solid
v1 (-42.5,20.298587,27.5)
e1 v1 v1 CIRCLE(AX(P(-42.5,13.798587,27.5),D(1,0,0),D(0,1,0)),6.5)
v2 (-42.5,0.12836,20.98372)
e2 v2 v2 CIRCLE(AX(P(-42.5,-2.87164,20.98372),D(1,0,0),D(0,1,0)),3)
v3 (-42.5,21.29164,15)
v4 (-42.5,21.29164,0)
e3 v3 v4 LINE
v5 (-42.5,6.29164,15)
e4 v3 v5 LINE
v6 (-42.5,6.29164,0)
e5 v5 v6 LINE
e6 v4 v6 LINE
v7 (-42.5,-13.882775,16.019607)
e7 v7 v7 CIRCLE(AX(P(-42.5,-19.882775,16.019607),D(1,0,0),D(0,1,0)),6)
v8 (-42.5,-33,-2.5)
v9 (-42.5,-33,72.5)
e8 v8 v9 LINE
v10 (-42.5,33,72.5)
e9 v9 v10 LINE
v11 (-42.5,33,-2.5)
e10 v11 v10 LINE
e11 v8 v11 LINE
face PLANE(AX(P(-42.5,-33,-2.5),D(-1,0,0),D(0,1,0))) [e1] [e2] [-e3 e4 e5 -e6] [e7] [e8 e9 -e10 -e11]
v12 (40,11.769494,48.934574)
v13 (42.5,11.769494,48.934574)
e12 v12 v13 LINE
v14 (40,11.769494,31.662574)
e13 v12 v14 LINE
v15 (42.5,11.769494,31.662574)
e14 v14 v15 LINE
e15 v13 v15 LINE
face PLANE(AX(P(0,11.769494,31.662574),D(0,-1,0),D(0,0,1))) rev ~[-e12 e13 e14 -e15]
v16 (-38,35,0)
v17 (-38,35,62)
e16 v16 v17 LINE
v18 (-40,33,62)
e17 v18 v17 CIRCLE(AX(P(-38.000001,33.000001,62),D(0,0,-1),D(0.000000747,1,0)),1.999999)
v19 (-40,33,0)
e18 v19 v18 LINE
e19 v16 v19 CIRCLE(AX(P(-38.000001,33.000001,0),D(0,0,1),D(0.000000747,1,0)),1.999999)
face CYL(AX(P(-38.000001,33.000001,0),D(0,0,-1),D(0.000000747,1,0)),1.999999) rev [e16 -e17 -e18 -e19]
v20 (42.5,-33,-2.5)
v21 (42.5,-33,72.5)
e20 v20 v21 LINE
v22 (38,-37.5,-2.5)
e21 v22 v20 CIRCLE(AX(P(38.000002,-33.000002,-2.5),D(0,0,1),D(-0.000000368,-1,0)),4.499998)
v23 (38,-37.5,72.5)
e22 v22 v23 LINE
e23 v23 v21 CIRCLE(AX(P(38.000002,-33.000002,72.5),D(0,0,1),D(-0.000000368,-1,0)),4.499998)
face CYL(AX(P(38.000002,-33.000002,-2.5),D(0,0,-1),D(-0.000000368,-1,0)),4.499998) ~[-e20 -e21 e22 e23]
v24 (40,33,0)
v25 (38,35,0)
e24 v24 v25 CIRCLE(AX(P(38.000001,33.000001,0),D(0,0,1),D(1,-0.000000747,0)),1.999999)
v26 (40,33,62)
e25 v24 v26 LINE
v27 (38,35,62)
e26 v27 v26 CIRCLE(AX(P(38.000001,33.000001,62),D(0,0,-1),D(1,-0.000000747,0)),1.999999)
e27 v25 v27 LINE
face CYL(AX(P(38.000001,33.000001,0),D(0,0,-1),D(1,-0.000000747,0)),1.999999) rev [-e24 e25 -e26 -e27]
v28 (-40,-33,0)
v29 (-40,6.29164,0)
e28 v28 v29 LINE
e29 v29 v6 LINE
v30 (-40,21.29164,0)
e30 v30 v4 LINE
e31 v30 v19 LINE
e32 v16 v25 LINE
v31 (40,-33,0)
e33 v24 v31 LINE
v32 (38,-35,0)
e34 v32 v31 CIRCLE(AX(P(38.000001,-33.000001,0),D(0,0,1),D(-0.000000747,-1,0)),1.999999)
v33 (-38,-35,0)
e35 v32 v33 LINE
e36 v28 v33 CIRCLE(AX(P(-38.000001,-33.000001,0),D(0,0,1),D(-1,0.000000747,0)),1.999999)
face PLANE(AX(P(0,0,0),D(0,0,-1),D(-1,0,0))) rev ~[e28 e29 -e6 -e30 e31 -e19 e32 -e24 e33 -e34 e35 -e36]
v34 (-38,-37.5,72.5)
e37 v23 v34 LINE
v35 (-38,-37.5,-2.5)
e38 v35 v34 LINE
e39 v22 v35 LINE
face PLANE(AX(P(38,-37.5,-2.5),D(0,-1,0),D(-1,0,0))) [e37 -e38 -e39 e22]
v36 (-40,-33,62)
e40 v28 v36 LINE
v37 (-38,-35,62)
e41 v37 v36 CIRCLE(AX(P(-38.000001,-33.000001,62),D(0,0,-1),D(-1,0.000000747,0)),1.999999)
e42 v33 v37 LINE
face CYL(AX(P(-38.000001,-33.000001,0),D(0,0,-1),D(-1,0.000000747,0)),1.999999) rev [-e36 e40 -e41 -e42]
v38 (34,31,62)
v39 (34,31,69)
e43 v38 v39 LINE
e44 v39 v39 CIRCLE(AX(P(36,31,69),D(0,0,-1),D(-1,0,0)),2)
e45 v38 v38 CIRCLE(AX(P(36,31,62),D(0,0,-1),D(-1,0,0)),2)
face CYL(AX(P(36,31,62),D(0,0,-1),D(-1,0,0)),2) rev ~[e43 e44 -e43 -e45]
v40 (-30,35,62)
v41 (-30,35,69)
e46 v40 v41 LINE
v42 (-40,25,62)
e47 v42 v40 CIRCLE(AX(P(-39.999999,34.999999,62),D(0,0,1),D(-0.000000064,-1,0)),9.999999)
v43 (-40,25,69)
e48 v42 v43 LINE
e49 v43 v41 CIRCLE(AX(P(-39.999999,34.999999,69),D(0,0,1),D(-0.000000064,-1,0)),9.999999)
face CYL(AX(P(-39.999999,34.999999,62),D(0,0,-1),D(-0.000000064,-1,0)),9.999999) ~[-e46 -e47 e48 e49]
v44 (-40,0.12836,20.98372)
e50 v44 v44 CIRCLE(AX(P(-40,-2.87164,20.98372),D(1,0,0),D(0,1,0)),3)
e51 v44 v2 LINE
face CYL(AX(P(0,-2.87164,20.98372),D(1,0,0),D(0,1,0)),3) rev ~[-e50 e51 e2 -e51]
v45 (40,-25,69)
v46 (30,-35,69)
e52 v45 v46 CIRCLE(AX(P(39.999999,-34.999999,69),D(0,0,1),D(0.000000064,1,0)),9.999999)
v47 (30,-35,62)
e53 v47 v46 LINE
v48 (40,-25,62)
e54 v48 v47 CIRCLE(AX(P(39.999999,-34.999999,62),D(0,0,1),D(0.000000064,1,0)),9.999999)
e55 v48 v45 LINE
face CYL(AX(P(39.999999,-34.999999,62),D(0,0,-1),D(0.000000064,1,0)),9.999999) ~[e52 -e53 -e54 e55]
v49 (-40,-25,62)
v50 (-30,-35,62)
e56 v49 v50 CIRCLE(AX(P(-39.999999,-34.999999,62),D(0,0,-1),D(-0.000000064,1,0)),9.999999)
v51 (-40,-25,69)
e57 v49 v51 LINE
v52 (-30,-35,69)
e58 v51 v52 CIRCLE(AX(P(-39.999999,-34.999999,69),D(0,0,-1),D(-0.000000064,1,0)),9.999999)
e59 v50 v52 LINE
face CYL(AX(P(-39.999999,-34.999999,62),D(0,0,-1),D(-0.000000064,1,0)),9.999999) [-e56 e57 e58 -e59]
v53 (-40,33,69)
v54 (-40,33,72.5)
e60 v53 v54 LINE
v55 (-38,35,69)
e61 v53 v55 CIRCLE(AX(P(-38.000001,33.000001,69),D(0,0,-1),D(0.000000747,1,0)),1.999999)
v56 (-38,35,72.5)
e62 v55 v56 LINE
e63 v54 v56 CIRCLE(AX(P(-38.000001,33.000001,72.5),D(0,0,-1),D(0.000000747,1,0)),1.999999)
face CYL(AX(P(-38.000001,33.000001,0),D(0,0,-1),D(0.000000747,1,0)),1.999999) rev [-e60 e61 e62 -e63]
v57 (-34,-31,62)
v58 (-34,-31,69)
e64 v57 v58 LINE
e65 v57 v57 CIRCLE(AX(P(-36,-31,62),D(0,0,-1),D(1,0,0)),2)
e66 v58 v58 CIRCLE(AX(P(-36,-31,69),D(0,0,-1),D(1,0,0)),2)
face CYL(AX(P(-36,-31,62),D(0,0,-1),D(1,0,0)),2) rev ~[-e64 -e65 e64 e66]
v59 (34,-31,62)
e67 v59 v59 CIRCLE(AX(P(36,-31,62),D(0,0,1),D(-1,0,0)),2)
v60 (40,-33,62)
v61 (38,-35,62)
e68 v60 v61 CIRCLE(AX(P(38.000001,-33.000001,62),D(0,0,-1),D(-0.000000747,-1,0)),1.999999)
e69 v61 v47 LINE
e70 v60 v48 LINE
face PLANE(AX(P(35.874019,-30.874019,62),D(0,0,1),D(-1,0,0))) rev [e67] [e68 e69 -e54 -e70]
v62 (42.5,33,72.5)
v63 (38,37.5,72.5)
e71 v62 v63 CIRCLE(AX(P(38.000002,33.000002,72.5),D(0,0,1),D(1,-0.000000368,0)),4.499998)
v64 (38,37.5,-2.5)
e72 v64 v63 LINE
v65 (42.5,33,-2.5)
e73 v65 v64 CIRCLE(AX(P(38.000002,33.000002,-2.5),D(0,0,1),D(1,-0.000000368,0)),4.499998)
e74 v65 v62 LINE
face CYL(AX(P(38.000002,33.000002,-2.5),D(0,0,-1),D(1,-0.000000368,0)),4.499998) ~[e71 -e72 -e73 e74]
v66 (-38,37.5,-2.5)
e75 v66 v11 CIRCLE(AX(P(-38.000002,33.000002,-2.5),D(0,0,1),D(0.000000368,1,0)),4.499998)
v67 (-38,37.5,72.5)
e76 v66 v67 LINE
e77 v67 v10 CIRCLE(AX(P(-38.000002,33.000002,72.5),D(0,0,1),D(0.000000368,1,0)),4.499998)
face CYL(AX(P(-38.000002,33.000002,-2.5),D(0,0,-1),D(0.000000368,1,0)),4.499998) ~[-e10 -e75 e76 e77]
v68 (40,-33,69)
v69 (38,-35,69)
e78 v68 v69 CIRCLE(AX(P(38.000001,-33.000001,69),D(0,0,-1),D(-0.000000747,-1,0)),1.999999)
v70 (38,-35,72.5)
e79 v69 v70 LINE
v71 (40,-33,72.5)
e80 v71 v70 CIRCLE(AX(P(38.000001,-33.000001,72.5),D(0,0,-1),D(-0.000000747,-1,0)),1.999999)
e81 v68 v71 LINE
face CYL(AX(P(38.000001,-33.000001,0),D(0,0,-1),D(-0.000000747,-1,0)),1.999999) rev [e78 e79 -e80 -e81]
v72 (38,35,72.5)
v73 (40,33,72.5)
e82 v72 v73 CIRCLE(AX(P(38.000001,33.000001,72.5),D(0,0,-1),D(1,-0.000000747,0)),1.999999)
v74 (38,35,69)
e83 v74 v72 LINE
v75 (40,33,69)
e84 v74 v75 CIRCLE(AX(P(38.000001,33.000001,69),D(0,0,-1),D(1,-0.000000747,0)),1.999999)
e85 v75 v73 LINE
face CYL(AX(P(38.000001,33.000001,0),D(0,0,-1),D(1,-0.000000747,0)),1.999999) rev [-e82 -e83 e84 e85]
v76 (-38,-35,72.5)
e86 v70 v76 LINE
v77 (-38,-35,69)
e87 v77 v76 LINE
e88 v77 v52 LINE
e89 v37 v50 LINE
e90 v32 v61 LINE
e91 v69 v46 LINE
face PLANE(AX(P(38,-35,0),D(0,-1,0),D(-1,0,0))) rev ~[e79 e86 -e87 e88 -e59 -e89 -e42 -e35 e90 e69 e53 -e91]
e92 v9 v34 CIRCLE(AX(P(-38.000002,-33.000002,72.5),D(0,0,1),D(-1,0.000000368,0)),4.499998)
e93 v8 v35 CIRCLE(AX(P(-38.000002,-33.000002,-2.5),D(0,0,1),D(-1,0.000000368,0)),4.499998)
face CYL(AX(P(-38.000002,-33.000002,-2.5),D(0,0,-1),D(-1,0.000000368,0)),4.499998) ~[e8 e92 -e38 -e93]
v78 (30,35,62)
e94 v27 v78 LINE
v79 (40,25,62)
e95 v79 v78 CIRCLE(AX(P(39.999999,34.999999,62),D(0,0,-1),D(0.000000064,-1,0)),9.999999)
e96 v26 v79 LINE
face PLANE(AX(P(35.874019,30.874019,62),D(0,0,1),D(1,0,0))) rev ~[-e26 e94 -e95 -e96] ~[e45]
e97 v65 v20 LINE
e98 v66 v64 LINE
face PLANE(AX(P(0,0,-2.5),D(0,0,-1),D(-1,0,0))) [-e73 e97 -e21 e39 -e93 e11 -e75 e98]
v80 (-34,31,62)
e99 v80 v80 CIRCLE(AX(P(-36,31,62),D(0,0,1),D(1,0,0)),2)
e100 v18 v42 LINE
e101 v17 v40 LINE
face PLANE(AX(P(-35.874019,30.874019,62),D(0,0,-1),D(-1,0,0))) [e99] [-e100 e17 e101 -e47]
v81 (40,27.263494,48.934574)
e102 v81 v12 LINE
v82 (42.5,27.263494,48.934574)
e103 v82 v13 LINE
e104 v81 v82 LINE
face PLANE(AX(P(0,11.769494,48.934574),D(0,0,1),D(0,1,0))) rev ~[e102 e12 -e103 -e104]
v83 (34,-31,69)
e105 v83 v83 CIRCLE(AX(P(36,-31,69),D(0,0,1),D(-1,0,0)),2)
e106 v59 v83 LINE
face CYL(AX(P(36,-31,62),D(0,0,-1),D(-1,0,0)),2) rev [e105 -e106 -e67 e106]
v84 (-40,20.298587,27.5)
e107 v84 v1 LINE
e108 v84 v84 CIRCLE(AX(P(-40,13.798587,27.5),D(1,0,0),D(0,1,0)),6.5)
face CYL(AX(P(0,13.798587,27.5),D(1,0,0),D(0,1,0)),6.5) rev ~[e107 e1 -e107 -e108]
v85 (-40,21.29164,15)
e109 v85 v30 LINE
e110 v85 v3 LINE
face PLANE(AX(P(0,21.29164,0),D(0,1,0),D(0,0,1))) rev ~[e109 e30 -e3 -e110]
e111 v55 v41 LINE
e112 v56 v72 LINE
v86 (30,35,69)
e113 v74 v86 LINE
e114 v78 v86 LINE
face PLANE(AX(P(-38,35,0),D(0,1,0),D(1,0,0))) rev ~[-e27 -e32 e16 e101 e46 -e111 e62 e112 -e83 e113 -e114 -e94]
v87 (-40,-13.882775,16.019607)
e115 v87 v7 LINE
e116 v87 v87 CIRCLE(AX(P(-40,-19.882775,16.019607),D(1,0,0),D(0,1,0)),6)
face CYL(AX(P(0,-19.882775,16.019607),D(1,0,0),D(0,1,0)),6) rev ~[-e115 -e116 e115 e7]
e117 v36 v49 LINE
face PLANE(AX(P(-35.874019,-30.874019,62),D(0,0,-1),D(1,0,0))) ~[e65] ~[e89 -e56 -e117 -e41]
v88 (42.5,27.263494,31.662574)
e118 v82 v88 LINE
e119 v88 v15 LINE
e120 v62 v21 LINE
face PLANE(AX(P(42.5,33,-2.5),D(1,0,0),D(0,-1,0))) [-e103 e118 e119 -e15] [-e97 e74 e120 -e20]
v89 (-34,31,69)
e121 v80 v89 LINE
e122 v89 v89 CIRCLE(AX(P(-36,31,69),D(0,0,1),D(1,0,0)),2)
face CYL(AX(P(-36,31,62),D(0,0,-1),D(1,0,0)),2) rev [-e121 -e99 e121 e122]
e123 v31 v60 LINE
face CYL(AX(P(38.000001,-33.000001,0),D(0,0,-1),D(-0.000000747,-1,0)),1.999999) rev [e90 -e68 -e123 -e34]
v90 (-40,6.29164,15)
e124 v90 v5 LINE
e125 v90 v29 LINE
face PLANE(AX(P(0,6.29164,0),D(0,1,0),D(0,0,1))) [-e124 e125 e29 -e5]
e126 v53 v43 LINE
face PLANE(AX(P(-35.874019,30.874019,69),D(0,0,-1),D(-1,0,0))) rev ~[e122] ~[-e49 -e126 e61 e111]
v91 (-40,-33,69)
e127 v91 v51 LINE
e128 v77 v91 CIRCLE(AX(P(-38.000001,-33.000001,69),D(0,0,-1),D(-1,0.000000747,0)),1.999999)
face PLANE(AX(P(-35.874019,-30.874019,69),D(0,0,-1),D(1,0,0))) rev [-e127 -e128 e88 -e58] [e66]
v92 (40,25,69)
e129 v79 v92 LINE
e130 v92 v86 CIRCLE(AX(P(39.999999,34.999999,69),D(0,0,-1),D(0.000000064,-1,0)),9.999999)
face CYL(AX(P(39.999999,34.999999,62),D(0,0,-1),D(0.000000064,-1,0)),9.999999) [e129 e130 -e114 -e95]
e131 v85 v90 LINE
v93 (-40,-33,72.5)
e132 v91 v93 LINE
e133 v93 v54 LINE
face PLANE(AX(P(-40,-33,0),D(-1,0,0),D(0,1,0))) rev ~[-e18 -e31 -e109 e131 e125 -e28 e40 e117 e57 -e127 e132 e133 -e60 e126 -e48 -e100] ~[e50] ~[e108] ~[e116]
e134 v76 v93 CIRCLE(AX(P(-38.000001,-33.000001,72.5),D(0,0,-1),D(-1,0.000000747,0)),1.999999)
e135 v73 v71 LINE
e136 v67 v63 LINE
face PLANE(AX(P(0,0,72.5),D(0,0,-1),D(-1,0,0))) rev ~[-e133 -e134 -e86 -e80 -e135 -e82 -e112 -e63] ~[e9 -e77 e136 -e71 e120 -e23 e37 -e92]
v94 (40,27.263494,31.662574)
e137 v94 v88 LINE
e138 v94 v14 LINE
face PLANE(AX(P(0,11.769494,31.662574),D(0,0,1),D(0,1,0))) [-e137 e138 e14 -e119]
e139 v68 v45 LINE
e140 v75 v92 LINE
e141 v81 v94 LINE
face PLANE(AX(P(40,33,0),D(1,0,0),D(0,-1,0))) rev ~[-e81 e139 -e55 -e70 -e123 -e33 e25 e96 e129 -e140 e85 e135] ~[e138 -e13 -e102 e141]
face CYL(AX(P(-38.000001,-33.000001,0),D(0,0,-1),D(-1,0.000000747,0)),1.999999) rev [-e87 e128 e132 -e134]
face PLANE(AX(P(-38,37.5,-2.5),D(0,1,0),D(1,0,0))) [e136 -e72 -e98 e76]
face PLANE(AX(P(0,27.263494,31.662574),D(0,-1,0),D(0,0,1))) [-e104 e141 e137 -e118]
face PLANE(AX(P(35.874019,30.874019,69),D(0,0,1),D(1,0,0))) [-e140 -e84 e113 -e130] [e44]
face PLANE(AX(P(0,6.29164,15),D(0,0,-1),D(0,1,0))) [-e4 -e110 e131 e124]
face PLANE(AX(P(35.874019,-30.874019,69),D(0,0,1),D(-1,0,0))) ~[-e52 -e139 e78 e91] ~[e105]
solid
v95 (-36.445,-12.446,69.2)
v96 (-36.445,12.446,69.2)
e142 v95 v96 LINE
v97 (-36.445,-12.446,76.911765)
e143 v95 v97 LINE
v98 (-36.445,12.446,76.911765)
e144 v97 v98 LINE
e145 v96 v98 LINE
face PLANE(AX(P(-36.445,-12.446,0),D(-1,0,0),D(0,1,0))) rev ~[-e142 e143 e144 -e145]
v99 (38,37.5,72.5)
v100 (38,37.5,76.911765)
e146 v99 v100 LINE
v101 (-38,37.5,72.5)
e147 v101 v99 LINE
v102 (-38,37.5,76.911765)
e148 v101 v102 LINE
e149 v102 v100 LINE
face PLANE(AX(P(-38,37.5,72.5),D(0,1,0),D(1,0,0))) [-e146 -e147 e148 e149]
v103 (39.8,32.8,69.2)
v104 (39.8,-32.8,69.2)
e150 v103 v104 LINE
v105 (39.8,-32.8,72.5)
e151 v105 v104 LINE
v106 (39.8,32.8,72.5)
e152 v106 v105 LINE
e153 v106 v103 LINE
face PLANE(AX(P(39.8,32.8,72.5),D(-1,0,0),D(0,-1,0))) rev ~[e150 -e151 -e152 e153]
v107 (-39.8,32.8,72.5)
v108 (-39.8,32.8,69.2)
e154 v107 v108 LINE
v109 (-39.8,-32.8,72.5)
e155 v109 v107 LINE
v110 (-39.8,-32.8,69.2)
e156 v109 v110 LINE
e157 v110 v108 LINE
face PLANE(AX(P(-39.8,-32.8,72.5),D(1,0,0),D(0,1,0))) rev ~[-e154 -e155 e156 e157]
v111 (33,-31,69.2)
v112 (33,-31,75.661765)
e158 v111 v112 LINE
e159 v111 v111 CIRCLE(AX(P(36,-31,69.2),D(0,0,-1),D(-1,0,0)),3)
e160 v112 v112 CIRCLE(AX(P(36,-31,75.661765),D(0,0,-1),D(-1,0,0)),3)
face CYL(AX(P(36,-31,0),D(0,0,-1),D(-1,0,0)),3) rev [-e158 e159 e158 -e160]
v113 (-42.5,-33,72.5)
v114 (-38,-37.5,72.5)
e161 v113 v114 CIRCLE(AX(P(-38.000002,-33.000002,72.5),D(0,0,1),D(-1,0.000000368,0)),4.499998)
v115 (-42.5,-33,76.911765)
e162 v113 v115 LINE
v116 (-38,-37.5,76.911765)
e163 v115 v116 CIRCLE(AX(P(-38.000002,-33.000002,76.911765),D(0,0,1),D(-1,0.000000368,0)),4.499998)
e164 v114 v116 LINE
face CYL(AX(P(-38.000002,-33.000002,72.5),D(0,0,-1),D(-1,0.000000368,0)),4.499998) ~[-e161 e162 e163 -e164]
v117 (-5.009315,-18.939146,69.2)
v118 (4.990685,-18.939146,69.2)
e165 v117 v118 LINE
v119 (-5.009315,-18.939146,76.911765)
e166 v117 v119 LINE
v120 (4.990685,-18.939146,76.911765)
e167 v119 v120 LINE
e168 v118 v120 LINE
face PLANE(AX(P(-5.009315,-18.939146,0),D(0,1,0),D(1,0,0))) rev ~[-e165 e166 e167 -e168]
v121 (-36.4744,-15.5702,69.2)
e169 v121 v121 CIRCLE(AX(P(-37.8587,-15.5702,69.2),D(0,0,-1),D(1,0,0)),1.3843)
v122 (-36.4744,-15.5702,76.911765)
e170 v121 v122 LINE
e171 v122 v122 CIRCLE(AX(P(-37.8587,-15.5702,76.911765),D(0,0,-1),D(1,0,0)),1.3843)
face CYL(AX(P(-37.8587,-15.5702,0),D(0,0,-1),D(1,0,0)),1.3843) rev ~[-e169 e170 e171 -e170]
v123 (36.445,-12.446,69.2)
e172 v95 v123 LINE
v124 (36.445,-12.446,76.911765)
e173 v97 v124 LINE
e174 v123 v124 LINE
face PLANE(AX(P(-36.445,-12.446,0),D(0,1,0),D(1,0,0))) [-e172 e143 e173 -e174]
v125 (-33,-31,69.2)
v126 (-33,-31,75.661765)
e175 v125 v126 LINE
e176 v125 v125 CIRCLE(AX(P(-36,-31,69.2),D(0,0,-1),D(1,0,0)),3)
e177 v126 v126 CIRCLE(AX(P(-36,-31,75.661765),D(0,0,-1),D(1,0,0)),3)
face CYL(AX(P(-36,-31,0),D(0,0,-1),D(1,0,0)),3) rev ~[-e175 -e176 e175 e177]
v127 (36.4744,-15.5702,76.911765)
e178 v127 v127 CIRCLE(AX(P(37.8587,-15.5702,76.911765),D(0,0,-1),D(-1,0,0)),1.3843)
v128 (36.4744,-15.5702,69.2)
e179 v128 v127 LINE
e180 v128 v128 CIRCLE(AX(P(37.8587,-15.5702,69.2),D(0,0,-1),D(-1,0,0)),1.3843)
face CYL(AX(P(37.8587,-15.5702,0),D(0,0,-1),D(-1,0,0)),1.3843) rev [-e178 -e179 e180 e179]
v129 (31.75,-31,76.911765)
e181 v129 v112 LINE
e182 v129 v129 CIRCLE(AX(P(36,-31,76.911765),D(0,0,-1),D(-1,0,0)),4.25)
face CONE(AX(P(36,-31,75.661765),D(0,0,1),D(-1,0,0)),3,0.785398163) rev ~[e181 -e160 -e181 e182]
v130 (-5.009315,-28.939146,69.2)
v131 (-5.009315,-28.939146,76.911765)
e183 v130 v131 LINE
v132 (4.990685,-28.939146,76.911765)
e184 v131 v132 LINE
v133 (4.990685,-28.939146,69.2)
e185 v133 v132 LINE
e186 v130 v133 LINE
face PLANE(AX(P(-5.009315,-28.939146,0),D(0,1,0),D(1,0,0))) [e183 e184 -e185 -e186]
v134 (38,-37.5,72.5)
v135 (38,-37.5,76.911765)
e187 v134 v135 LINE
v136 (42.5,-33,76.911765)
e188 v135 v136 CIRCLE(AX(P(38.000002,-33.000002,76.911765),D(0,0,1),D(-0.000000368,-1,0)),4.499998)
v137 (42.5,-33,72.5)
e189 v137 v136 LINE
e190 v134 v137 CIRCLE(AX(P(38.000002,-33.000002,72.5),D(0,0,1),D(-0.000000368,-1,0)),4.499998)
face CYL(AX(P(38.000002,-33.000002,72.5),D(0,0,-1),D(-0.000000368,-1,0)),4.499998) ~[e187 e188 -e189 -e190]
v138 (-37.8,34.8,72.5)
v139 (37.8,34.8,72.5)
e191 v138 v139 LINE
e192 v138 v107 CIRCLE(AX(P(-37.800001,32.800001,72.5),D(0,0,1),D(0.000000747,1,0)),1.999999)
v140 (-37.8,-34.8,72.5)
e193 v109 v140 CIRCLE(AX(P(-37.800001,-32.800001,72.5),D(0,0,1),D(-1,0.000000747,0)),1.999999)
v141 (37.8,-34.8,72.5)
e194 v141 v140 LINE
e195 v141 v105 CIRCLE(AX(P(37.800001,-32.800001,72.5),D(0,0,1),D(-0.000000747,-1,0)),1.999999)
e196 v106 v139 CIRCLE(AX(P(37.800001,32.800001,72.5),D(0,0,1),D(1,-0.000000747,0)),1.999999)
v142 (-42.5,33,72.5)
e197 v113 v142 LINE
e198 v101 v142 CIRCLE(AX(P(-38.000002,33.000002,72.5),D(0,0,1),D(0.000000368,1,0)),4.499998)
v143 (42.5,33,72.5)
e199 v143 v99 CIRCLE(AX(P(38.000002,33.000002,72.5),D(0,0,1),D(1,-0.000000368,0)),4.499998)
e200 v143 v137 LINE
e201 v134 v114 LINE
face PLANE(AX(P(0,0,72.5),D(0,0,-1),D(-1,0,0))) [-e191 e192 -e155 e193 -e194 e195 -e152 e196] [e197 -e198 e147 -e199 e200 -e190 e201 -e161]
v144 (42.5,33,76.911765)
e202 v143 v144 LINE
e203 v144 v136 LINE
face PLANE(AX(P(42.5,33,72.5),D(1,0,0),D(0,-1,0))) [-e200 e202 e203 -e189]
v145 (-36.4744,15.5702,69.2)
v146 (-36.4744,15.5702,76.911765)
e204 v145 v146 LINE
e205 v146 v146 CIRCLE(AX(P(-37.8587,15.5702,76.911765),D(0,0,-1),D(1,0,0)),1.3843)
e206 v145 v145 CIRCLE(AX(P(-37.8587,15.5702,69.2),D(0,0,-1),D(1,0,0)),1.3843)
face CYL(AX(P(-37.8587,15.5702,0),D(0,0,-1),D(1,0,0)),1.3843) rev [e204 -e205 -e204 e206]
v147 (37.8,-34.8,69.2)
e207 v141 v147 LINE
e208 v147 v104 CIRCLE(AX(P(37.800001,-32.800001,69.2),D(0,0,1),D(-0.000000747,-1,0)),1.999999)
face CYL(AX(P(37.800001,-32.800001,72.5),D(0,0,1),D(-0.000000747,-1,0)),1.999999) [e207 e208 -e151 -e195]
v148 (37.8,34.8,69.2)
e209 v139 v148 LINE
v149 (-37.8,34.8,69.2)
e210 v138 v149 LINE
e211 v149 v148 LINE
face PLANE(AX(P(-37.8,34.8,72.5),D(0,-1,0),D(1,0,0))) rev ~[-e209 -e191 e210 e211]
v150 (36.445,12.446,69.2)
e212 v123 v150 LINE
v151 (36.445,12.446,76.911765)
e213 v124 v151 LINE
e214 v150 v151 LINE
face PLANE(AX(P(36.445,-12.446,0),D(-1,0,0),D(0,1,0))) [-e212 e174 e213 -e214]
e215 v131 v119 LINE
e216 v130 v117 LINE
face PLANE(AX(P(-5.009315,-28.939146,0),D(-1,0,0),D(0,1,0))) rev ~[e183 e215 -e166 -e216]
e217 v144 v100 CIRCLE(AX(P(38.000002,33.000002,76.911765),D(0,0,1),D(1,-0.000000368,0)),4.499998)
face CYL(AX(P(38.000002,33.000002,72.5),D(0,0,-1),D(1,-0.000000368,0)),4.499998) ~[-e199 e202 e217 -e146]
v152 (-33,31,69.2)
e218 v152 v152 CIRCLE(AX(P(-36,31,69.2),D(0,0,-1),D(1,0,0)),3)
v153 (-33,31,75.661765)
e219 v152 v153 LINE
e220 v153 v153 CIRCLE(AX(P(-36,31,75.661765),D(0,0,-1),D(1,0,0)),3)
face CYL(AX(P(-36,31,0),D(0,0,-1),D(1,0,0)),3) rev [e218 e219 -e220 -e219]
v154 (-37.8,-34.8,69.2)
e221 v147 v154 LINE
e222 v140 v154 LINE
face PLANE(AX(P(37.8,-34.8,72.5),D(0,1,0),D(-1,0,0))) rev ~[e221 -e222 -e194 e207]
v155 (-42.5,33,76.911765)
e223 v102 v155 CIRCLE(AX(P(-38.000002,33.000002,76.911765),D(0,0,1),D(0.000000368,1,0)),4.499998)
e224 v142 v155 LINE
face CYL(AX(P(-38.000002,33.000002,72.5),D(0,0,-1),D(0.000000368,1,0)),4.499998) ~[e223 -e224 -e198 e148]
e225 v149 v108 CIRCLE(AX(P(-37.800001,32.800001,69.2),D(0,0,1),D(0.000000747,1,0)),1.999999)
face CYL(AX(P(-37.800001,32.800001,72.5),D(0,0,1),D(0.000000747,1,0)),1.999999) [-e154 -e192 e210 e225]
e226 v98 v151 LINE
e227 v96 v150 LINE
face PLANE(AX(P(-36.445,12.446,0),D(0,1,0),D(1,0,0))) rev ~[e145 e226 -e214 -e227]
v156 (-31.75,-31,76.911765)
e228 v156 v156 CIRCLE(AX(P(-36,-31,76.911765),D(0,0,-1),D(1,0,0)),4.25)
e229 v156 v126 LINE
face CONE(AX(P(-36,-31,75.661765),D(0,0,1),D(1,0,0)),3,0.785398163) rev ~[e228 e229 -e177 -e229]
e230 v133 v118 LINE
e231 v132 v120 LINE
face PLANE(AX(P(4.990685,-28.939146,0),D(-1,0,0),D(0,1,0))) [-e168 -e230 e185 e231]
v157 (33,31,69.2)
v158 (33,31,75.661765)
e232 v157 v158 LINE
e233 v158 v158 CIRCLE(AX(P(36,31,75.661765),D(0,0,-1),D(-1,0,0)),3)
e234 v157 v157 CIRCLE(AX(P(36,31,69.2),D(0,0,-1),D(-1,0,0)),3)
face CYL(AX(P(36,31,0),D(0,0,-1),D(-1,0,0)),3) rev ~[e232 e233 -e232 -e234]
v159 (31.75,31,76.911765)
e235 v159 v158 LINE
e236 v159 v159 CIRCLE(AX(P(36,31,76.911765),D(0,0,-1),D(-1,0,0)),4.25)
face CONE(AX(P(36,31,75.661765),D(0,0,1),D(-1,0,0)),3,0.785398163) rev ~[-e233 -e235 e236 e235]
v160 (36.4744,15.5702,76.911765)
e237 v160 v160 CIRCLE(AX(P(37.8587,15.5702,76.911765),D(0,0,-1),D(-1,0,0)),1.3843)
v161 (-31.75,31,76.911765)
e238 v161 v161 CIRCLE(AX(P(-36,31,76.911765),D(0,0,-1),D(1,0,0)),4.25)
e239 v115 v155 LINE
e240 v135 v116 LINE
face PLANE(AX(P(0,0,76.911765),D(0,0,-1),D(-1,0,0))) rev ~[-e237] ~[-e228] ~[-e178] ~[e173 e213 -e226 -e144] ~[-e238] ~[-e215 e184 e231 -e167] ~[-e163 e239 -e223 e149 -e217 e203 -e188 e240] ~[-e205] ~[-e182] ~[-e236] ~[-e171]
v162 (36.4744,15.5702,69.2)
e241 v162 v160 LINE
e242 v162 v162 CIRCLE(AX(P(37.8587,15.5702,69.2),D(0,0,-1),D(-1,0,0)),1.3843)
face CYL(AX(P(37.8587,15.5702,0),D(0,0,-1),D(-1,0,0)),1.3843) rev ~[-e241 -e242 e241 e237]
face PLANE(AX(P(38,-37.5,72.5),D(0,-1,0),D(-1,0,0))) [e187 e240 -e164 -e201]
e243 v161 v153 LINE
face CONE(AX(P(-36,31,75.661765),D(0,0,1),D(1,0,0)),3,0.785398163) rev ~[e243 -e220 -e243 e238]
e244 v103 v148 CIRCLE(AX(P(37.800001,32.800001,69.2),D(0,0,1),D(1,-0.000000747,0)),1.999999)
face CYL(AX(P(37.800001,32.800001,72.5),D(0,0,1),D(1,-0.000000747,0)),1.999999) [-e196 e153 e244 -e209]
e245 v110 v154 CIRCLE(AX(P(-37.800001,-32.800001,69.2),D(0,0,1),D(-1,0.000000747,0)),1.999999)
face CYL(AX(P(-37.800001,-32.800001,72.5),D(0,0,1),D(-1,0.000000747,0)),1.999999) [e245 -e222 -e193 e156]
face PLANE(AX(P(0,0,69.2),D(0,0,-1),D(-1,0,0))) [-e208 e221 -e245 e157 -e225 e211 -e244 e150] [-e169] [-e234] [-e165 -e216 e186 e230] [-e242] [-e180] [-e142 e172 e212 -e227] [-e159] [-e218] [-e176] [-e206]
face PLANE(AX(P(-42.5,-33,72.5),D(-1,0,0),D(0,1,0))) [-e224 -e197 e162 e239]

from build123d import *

# Parameters (mm, degrees)
PAD_DEPTH                     = 75
POCKET_DEPTH                  = 72.501
SKETCH003_R                   = 2
PAD001_DEPTH                  = 7
SKETCH003_MIRRORED_2_R        = 2
PAD001_MIRRORED_2_DEPTH       = 7
SKETCH010_W                   = 15.494
SKETCH010_H                   = 17.272
POCKET005_DEPTH               = 42.501
SKETCH011_R                   = 6
POCKET006_DEPTH               = 42.501
SKETCH012_R                   = 3
POCKET007_DEPTH               = 42.501
SKETCH013_R                   = 6.5
POCKET008_DEPTH               = 42.501
SKETCH014_W                   = 15
SKETCH014_H                   = 15
POCKET009_DEPTH               = 42.501
PAD002_DEPTH                  = 4.411765
PAD003_DEPTH                  = 3.3
SKETCH006_R                   = 3
POCKET001_DEPTH               = 304.152474
SKETCH006_MIRRORED002_2_R     = 3
POCKET001_MIRRORED002_2_DEPTH = 304.152474
CHAMFER_SIZE                  = 1.25
SKETCH007_W                   = 72.89
SKETCH007_H                   = 24.892
POCKET002_DEPTH               = 76.912765
SKETCH008_R                   = 1.3843
POCKET003_DEPTH               = 304.152474
SKETCH008_MIRRORED004_2_R     = 1.3843
POCKET003_MIRRORED004_2_DEPTH = 304.152474
SKETCH009_W                   = 10
SKETCH009_H                   = 10
POCKET004_DEPTH               = 76.912765


with BuildPart() as box:
    # Sketch → Pad (new body)
    with BuildSketch(Plane.XY.offset(-2.5)):
        with BuildLine():
            Line((-38, 37.5), (38, 37.5))
            ThreePointArc((42.5, 33), (41.181981, 36.181981), (38, 37.5))
            Line((42.5, 33), (42.5, -33))
            ThreePointArc((38, -37.5), (41.181981, -36.181981), (42.5, -33))
            Line((38, -37.5), (-38, -37.5))
            ThreePointArc((-42.5, -33), (-41.181981, -36.181981), (-38, -37.5))
            Line((-42.5, -33), (-42.5, 33))
            ThreePointArc((-38, 37.5), (-41.181981, 36.181981), (-42.5, 33))
        make_face()
    extrude(amount=PAD_DEPTH)

    # Sketch001 → Pocket (cut, through all)
    with BuildSketch(Plane.XY):
        with BuildLine():
            Line((-38, 35), (38, 35))
            ThreePointArc((40, 33), (39.414214, 34.414214), (38, 35))
            Line((40, 33), (40, -33))
            ThreePointArc((38, -35), (39.414214, -34.414214), (40, -33))
            Line((38, -35), (-38, -35))
            ThreePointArc((-40, -33), (-39.414214, -34.414214), (-38, -35))
            Line((-40, -33), (-40, 33))
            ThreePointArc((-38, 35), (-39.414214, 34.414214), (-40, 33))
        make_face()
    extrude(amount=POCKET_DEPTH, mode=Mode.SUBTRACT)

    # Sketch003 → Pad001 (join)
    with BuildSketch(Plane.XY.offset(62)):
        with BuildLine():
            Line((-40, 35), (-30, 35))
            ThreePointArc((-40, 25), (-32.928932, 27.928932), (-30, 35))
            Line((-40, 35), (-40, 25))
        make_face()
        with Locations((-36, 31)):
            Circle(SKETCH003_R, mode=Mode.SUBTRACT)
    pad001 = extrude(amount=PAD001_DEPTH)

    # Sketch003 Mirrored 2 → Pad001 Mirrored 2 (add)
    with BuildSketch(Plane(origin=(0, 0, 62), x_dir=(-1, 0, 0), z_dir=(0, 0, -1))):
        with BuildLine():
            Line((-40, 35), (-30, 35))
            ThreePointArc((-40, 25), (-32.928932, 27.928932), (-30, 35))
            Line((-40, 35), (-40, 25))
        make_face()
        with Locations((-36, 31)):
            Circle(SKETCH003_MIRRORED_2_R, mode=Mode.SUBTRACT)
    pad001_mirrored_2 = extrude(amount=-PAD001_MIRRORED_2_DEPTH)

    # Mirrored001: Pad001, Pad001 Mirrored 2 across Sketch003 H_Axis
    add(pad001.mirror(Plane(origin=(0, 0, 62), x_dir=(0, 0, 1), z_dir=(0, 1, 0))))
    add(pad001_mirrored_2.mirror(Plane(origin=(0, 0, 62), x_dir=(0, 0, 1), z_dir=(0, 1, 0))))

    # Sketch010 → Pocket005 (cut, through all)
    with BuildSketch(Plane.YZ):
        with Locations((19.516494, 40.298574)):
            Rectangle(SKETCH010_W, SKETCH010_H)
    extrude(amount=POCKET005_DEPTH, mode=Mode.SUBTRACT)

    # Sketch011 → Pocket006 (cut, through all)
    with BuildSketch(Plane.YZ):
        with Locations((-19.882775, 16.019607)):
            Circle(SKETCH011_R)
    extrude(amount=-POCKET006_DEPTH, mode=Mode.SUBTRACT)

    # Sketch012 → Pocket007 (cut, through all)
    with BuildSketch(Plane.YZ):
        with Locations((-2.87164, 20.98372)):
            Circle(SKETCH012_R)
    extrude(amount=-POCKET007_DEPTH, mode=Mode.SUBTRACT)

    # Sketch013 → Pocket008 (cut, through all)
    with BuildSketch(Plane.YZ):
        with Locations((13.798587, 27.5)):
            Circle(SKETCH013_R)
    extrude(amount=-POCKET008_DEPTH, mode=Mode.SUBTRACT)

    # Sketch014 → Pocket009 (cut, through all)
    with BuildSketch(Plane.YZ):
        with Locations((13.79164, 7.5)):
            Rectangle(SKETCH014_W, SKETCH014_H)
    extrude(amount=-POCKET009_DEPTH, mode=Mode.SUBTRACT)


with BuildPart() as lid:
    # Sketch004 → Pad002 (new body)
    with BuildSketch(Plane.XY.offset(72.5)):
        with BuildLine():
            Line((-38, 37.5), (38, 37.5))
            ThreePointArc((42.5, 33), (41.181981, 36.181981), (38, 37.5))
            Line((42.5, 33), (42.5, -33))
            ThreePointArc((38, -37.5), (41.181981, -36.181981), (42.5, -33))
            Line((38, -37.5), (-38, -37.5))
            ThreePointArc((-42.5, -33), (-41.181981, -36.181981), (-38, -37.5))
            Line((-42.5, -33), (-42.5, 33))
            ThreePointArc((-38, 37.5), (-41.181981, 36.181981), (-42.5, 33))
        make_face()
    extrude(amount=PAD002_DEPTH)

    # Sketch005 → Pad003 (join)
    with BuildSketch(Plane.XY.offset(72.5)):
        with BuildLine():
            Line((-37.8, 34.8), (37.8, 34.8))
            ThreePointArc((39.8, 32.8), (39.214214, 34.214214), (37.8, 34.8))
            Line((39.8, 32.8), (39.8, -32.8))
            ThreePointArc((37.8, -34.8), (39.214214, -34.214214), (39.8, -32.8))
            Line((37.8, -34.8), (-37.8, -34.8))
            ThreePointArc((-39.8, -32.8), (-39.214214, -34.214214), (-37.8, -34.8))
            Line((-39.8, -32.8), (-39.8, 32.8))
            ThreePointArc((-37.8, 34.8), (-39.214214, 34.214214), (-39.8, 32.8))
        make_face()
    extrude(amount=-PAD003_DEPTH)

    # Sketch006 → Pocket001 (cut, through all)
    with BuildSketch(Plane.XY):
        with Locations((-36, 31)):
            Circle(SKETCH006_R)
    pocket001 = extrude(amount=POCKET001_DEPTH, mode=Mode.SUBTRACT)

    # Sketch006 Mirrored002 2 → Pocket001 Mirrored002 2 (cut, through all)
    with BuildSketch(Plane(origin=(0, 0, 0), x_dir=(1, 0, 0), z_dir=(0, 0, -1))):
        with Locations((-36, 31)):
            Circle(SKETCH006_MIRRORED002_2_R)
    pocket001_mirrored002_2 = extrude(amount=-POCKET001_MIRRORED002_2_DEPTH, mode=Mode.SUBTRACT)

    # Mirrored003: Pocket001, Pocket001 Mirrored002 2 across YZ
    add(pocket001.mirror(Plane.YZ), mode=Mode.SUBTRACT)
    add(pocket001_mirrored002_2.mirror(Plane.YZ), mode=Mode.SUBTRACT)

    # Chamfer
    chamfer_edges = [lid.edges().sort_by_distance(p)[0] for p in [
        (-39, -31, 76.911765),
        (-39, 31, 76.911765),
        (39, 31, 76.911765),
        (39, -31, 76.911765),
    ]]
    chamfer(chamfer_edges, length=CHAMFER_SIZE)

    # Sketch007 → Pocket002 (cut, through all)
    with BuildSketch(Plane.XY):
        Rectangle(SKETCH007_W, SKETCH007_H)
    extrude(amount=POCKET002_DEPTH, mode=Mode.SUBTRACT)

    # Sketch008 → Pocket003 (cut, through all)
    with BuildSketch(Plane.XY):
        with Locations((-37.8587, 15.5702)):
            Circle(SKETCH008_R)
    pocket003 = extrude(amount=POCKET003_DEPTH, mode=Mode.SUBTRACT)

    # Sketch008 Mirrored004 2 → Pocket003 Mirrored004 2 (cut, through all)
    with BuildSketch(Plane(origin=(0, 0, 0), x_dir=(1, 0, 0), z_dir=(0, 0, -1))):
        with Locations((-37.8587, 15.5702)):
            Circle(SKETCH008_MIRRORED004_2_R)
    pocket003_mirrored004_2 = extrude(amount=-POCKET003_MIRRORED004_2_DEPTH, mode=Mode.SUBTRACT)

    # Mirrored005: Pocket003, Pocket003 Mirrored004 2 across YZ
    add(pocket003.mirror(Plane.YZ), mode=Mode.SUBTRACT)
    add(pocket003_mirrored004_2.mirror(Plane.YZ), mode=Mode.SUBTRACT)

    # Sketch009 → Pocket004 (cut, through all)
    with BuildSketch(Plane.XY):
        with Locations((-0.009315, -23.939146)):
            Rectangle(SKETCH009_W, SKETCH009_H)
    extrude(amount=POCKET004_DEPTH, mode=Mode.SUBTRACT)


solid = Compound([box.part, lid.part])
